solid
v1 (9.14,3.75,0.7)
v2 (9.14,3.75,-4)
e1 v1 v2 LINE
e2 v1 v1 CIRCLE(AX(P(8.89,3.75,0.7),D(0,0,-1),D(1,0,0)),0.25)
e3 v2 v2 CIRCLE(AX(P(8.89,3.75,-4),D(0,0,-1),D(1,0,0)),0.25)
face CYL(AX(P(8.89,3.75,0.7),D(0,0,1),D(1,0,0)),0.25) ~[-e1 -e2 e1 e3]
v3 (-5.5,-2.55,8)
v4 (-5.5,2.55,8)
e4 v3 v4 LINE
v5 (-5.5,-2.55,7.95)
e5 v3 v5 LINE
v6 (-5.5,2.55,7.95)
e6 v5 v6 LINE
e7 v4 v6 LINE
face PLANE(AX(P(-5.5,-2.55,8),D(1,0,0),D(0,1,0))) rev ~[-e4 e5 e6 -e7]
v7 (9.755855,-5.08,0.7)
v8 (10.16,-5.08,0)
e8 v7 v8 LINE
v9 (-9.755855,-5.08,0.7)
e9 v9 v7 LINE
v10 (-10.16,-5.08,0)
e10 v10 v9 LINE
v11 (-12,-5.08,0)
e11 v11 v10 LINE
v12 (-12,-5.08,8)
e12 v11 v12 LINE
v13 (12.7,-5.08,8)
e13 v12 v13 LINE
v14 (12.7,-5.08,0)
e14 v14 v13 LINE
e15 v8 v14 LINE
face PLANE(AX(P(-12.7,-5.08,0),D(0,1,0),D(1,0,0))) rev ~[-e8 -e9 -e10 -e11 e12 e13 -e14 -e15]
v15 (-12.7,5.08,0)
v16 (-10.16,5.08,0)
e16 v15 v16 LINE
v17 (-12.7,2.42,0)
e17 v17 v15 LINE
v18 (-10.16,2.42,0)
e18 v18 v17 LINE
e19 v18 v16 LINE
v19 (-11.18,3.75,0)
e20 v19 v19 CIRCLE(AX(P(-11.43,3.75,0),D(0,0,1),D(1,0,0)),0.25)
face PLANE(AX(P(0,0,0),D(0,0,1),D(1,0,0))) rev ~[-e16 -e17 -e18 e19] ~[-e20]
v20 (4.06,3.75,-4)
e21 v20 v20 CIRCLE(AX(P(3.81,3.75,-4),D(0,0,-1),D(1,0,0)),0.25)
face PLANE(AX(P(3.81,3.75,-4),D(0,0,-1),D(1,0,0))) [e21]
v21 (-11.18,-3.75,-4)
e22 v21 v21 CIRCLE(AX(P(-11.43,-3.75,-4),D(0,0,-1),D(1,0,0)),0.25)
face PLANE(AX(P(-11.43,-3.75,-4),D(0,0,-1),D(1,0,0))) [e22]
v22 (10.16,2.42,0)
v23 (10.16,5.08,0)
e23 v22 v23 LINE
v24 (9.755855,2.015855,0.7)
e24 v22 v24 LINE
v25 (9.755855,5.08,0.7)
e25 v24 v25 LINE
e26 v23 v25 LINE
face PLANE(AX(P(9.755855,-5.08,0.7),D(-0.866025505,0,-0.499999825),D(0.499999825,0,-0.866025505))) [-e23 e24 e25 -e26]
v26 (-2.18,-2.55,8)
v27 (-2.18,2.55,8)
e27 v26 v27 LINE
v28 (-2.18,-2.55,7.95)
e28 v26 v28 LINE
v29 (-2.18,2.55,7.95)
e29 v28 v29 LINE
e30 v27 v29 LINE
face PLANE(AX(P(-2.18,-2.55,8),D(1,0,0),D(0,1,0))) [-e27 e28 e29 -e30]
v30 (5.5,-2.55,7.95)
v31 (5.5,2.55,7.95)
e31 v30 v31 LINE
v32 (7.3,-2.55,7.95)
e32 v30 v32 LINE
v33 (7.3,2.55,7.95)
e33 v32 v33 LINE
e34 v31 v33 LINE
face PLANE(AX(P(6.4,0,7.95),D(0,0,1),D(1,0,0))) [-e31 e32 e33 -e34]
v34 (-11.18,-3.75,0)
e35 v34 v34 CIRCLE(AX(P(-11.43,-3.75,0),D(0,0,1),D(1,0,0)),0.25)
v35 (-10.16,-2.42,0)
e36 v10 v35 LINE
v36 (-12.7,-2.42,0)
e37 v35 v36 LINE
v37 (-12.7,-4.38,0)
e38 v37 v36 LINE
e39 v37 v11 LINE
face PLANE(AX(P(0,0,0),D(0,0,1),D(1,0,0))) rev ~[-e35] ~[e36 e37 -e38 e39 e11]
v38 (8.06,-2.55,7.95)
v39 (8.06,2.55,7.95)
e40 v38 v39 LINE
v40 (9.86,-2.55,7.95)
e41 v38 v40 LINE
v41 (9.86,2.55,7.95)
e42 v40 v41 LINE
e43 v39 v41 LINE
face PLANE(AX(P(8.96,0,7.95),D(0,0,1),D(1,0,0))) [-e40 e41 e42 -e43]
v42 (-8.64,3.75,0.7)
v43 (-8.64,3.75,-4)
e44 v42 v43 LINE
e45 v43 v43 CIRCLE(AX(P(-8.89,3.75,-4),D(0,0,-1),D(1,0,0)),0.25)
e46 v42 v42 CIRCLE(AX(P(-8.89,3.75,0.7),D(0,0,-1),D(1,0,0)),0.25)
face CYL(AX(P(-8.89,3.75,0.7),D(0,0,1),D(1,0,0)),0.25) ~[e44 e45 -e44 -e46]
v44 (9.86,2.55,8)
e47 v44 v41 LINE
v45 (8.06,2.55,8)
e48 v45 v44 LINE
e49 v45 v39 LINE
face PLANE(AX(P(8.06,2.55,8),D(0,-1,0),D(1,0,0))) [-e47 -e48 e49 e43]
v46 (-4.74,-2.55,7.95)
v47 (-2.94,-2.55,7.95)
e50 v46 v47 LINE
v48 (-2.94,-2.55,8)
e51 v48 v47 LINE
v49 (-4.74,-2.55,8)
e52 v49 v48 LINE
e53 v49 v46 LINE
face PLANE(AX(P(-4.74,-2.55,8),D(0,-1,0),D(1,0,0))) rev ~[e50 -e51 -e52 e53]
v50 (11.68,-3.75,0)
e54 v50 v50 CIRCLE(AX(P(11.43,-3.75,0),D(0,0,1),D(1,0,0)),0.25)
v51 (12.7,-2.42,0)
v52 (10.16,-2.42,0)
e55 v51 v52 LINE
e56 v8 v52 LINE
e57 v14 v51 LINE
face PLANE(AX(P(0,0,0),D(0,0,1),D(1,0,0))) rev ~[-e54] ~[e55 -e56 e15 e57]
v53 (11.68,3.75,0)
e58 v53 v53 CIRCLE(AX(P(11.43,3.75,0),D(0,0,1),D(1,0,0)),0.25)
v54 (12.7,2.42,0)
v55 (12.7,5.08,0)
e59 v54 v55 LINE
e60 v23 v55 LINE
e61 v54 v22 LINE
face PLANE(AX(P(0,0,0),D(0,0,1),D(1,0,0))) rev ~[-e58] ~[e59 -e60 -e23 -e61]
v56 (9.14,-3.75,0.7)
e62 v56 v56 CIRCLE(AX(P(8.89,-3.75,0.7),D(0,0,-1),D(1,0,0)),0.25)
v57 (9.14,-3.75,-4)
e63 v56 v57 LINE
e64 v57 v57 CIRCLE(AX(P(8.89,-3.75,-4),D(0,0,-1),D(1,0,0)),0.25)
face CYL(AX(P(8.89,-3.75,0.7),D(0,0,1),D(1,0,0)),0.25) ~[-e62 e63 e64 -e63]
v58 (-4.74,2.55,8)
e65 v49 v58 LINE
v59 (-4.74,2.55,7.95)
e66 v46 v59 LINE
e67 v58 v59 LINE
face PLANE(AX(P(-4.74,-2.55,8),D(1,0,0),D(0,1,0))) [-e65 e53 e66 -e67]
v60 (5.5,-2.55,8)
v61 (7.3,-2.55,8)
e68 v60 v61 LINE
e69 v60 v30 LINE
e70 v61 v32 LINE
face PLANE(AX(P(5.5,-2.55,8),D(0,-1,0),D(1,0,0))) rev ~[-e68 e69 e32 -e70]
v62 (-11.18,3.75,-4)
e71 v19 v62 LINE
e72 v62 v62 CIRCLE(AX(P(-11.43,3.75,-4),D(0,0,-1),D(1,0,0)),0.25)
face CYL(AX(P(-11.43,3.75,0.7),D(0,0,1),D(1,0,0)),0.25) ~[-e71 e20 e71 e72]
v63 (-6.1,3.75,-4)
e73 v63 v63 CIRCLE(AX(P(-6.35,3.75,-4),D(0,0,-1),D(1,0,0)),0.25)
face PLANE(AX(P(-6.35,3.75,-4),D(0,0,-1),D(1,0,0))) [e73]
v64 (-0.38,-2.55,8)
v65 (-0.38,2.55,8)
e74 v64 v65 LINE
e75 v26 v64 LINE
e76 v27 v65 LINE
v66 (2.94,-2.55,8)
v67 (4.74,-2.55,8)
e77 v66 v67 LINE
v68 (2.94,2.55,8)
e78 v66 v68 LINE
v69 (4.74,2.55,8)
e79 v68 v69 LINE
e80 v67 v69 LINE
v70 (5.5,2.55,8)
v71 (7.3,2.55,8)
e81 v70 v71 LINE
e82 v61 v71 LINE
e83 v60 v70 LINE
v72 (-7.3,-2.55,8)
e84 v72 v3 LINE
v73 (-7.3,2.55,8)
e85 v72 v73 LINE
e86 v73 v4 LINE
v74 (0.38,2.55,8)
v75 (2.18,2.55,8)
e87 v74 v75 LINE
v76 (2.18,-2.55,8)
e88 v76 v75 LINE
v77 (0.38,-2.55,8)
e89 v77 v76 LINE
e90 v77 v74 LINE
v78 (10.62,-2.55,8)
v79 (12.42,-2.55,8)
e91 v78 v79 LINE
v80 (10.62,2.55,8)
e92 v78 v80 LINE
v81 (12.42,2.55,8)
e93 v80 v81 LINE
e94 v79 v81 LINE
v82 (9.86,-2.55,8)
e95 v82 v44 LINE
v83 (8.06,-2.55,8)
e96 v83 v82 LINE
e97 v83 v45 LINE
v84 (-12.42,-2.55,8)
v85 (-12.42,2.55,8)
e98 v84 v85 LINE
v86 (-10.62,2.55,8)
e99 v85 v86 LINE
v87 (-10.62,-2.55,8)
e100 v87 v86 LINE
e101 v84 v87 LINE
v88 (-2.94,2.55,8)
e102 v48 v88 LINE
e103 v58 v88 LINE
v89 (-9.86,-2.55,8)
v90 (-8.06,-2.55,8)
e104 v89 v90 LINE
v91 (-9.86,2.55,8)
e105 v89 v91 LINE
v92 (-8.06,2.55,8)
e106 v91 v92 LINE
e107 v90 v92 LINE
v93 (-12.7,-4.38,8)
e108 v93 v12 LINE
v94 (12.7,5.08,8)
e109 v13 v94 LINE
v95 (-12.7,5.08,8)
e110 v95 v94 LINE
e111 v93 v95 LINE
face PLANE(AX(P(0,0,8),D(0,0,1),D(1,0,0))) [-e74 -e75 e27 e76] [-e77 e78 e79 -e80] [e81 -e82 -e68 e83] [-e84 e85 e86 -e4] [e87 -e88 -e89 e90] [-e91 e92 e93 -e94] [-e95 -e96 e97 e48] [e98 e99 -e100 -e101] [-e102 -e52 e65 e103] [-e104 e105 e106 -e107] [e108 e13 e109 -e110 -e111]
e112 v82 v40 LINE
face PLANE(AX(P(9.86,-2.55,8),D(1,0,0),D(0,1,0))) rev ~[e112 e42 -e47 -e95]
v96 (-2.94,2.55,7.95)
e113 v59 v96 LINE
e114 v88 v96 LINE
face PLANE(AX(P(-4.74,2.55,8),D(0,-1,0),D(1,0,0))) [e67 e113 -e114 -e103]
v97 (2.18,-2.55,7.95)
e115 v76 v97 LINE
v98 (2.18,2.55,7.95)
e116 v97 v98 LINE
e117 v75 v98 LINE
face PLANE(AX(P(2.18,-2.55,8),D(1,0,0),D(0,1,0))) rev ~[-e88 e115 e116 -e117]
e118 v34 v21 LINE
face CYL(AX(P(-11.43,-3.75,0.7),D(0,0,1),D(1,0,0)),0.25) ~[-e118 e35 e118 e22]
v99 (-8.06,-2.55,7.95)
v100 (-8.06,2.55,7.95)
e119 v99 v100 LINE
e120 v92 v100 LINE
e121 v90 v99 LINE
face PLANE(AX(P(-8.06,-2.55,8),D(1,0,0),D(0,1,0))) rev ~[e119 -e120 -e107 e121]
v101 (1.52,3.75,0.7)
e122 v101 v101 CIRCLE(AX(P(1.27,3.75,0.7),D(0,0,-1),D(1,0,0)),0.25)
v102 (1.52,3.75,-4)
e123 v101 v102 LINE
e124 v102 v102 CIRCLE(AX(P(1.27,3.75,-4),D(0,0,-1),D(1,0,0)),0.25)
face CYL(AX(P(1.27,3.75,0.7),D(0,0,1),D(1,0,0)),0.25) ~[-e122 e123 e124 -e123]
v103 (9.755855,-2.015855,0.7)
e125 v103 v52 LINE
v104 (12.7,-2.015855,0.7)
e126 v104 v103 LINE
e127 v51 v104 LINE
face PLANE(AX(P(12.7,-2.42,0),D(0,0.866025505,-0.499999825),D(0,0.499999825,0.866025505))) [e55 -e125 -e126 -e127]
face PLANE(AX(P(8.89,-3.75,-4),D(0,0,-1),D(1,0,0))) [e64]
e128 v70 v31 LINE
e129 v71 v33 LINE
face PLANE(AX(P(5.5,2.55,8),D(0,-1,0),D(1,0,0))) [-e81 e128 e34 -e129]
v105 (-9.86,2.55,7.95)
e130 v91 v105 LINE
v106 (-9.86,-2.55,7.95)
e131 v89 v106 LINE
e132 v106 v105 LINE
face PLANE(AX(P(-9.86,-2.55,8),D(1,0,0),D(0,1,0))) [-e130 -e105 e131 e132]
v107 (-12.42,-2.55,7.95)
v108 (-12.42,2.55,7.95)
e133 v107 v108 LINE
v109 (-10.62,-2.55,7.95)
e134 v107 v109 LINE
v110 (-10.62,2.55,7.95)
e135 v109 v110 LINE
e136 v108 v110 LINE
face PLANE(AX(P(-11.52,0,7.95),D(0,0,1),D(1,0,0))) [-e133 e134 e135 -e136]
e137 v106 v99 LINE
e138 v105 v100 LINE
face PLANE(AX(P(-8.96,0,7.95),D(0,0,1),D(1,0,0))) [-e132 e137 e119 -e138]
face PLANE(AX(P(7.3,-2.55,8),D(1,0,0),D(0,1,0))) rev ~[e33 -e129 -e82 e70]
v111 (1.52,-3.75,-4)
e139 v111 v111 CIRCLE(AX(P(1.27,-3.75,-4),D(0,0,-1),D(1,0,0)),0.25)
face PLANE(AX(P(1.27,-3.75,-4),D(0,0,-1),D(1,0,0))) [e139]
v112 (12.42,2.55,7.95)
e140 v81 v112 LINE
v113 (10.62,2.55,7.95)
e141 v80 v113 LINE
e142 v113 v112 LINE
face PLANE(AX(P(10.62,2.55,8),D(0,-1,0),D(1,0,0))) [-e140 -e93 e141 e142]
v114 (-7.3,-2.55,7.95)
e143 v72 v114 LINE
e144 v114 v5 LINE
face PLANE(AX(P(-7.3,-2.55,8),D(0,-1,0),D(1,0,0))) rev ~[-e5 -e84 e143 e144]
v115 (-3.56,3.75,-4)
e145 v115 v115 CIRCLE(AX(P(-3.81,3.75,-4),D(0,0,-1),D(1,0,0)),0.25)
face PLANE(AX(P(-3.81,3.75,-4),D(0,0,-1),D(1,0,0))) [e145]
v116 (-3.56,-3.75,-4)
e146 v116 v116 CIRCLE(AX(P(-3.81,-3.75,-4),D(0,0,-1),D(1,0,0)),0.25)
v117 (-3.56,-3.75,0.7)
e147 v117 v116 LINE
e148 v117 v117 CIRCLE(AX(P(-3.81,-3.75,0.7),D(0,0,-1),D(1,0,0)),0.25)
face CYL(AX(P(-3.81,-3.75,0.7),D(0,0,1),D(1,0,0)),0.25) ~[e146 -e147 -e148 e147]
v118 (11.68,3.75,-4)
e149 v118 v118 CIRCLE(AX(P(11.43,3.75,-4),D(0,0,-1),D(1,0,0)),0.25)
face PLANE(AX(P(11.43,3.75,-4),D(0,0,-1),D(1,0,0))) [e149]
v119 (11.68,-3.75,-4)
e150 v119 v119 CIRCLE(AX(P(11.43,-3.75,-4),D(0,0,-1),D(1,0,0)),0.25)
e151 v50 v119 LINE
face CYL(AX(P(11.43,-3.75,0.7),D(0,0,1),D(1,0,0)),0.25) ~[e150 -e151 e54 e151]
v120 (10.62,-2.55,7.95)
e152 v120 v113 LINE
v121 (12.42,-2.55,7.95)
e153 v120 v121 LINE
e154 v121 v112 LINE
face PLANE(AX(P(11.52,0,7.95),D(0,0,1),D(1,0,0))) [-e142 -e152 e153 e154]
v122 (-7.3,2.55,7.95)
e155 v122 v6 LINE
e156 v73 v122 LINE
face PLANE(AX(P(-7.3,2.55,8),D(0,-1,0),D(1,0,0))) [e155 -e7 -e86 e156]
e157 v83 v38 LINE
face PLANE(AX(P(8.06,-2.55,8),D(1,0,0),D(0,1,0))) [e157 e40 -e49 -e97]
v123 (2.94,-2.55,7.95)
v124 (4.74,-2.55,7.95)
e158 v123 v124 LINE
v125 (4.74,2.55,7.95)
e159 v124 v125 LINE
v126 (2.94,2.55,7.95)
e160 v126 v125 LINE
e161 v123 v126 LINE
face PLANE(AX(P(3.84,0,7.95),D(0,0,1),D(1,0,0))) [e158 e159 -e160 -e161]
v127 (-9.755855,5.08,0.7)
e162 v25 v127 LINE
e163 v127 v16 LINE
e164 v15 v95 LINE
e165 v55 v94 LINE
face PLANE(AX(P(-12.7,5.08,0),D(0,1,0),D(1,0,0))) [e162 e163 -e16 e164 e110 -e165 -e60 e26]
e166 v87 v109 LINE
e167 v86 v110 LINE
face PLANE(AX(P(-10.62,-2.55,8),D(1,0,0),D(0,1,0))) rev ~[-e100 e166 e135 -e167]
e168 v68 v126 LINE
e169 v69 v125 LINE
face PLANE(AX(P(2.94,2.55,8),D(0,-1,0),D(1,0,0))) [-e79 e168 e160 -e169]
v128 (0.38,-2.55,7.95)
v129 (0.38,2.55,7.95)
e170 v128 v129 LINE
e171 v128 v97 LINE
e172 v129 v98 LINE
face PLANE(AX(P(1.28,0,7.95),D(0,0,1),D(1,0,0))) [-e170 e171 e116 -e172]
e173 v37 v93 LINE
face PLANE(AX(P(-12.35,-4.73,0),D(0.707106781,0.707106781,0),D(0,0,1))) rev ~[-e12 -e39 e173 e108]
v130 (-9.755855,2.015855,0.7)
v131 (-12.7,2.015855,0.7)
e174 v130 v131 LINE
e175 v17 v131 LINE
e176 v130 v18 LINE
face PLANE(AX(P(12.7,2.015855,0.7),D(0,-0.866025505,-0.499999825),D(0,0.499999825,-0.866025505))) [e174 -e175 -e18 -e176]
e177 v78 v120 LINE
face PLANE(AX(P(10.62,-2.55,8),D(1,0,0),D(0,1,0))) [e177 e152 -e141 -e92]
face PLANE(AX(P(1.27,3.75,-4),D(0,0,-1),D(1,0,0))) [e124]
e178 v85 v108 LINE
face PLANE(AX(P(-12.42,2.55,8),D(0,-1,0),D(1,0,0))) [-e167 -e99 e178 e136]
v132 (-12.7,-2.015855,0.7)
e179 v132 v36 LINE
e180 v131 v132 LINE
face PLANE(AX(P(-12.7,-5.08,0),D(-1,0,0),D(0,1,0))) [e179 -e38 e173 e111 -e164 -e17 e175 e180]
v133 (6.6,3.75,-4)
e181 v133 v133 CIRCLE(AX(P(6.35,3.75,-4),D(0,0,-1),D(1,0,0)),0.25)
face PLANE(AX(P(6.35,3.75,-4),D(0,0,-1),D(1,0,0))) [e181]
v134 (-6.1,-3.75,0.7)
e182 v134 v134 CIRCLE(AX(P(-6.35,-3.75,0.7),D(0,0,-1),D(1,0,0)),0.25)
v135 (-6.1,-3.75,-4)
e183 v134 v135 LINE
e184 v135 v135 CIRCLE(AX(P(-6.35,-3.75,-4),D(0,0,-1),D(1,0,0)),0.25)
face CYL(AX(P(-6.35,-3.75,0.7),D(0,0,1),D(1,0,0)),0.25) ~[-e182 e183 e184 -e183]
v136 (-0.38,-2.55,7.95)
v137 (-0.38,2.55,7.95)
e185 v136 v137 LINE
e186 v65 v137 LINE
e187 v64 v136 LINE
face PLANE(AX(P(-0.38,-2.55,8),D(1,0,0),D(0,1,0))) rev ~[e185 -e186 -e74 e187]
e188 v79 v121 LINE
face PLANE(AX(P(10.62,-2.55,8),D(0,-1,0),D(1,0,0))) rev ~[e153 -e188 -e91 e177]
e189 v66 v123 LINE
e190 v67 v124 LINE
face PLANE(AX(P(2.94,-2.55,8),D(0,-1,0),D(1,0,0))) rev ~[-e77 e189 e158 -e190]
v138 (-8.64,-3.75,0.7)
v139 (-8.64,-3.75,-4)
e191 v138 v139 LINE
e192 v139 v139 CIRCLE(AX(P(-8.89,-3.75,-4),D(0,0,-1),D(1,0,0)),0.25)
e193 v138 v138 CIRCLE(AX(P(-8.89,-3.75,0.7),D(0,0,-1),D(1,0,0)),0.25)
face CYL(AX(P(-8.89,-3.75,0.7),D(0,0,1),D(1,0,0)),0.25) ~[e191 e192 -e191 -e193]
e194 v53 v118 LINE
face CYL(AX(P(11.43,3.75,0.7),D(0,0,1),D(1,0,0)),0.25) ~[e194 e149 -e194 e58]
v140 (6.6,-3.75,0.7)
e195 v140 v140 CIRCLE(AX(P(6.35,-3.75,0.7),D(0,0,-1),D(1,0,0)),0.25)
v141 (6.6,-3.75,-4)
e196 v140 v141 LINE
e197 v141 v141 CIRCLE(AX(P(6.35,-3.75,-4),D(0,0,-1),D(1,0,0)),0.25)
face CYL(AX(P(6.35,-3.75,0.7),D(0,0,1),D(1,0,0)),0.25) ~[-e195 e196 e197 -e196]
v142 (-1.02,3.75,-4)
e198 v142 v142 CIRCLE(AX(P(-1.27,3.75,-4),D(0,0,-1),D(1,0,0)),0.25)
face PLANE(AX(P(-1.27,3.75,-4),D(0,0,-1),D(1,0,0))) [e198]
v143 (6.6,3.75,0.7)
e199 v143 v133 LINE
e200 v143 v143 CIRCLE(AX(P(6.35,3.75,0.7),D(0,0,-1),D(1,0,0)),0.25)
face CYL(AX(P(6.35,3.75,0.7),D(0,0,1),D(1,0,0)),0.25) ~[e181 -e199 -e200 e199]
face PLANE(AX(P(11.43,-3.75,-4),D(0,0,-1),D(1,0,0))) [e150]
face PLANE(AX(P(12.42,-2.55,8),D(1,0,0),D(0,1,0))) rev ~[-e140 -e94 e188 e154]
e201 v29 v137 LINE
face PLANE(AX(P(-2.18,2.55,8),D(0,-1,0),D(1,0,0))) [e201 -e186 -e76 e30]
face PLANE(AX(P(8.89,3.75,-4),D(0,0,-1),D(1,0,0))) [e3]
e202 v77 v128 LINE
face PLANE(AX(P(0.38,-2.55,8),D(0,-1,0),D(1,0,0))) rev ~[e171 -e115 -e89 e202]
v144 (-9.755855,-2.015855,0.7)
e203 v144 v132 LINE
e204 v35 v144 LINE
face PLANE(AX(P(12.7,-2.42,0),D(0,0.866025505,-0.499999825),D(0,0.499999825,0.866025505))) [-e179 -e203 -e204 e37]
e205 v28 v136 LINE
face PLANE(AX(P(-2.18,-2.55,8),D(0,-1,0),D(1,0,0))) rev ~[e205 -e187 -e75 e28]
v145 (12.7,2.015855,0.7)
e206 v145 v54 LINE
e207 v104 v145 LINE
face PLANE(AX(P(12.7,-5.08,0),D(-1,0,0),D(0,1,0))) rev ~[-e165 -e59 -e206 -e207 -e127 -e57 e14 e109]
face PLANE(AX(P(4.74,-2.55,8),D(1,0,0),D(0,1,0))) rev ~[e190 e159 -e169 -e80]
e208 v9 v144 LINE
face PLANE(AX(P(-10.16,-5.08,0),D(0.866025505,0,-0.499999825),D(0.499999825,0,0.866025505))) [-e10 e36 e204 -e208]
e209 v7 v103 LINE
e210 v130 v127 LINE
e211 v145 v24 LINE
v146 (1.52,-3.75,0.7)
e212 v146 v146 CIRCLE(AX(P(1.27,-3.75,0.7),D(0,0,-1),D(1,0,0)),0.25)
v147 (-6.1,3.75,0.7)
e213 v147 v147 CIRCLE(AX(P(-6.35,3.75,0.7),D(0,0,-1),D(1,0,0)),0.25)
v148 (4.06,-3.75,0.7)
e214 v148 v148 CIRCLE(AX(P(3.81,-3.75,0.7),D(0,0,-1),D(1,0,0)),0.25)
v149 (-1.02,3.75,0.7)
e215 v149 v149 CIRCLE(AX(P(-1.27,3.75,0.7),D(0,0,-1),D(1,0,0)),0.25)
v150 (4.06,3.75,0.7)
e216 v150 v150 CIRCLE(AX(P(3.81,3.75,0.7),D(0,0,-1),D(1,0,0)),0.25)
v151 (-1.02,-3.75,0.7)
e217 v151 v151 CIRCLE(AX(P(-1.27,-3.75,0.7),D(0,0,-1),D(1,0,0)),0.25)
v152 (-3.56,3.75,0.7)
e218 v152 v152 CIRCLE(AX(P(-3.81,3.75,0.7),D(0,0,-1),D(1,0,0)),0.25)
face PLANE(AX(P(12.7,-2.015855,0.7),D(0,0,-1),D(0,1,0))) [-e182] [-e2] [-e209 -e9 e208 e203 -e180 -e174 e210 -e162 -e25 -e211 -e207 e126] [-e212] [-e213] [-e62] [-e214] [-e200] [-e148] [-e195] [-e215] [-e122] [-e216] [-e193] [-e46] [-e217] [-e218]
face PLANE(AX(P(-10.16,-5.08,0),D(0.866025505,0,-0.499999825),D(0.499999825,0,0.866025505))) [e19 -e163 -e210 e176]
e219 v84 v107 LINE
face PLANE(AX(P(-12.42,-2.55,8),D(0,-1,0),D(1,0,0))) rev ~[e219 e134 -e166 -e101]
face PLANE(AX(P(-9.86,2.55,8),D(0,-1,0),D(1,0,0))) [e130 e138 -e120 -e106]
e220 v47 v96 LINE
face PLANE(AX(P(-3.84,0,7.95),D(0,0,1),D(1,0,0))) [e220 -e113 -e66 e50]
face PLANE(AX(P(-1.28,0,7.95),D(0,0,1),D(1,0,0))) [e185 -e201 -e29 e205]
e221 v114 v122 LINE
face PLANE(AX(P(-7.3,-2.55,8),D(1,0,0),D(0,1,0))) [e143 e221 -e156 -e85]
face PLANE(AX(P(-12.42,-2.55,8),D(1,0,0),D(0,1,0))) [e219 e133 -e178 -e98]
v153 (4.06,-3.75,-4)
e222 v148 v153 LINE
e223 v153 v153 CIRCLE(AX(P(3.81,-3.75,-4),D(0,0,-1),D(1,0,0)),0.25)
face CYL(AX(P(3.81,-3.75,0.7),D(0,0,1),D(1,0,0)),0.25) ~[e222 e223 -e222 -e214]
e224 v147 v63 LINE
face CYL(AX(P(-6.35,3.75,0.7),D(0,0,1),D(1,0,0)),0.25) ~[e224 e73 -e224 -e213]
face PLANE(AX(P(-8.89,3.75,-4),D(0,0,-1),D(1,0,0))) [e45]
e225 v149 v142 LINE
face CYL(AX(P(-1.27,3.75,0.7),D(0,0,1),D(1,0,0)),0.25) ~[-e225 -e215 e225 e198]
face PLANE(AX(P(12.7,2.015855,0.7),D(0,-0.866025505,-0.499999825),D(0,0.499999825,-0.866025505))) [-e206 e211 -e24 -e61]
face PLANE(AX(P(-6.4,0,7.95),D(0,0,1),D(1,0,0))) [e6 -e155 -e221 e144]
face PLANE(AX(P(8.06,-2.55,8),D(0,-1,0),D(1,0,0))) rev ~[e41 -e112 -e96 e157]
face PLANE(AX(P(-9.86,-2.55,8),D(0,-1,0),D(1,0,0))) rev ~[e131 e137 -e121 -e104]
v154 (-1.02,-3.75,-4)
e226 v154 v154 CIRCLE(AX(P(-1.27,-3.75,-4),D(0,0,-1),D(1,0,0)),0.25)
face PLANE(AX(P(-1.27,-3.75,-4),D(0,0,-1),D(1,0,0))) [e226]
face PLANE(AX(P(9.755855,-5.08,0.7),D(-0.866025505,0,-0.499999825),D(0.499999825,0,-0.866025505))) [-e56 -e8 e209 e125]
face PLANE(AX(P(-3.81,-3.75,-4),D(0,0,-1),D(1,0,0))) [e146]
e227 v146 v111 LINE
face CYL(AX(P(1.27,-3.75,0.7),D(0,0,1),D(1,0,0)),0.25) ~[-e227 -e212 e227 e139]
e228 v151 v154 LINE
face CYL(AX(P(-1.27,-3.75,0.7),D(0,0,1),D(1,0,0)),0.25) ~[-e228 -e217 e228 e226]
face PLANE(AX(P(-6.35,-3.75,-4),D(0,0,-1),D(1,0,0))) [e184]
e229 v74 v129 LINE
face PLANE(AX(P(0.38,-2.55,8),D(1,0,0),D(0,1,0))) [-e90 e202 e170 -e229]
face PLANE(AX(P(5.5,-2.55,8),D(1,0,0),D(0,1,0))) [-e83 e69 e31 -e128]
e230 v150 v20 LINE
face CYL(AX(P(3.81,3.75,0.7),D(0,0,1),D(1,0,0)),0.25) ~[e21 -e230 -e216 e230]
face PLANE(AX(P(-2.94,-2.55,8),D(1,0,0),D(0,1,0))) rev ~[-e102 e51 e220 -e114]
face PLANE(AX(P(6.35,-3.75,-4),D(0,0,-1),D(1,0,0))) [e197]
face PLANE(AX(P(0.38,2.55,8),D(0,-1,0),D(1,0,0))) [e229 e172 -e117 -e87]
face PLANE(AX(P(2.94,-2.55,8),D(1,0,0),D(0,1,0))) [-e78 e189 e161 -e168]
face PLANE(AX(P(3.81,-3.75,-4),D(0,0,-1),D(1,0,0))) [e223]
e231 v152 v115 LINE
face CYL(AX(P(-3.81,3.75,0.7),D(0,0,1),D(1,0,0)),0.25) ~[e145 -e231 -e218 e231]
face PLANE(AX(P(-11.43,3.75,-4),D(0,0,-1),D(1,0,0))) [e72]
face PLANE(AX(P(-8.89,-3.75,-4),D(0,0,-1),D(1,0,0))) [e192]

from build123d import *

# Parameters (mm, degrees)
SKETCH_W        = 25.4
SKETCH_H        = 10.16
PAD_DEPTH       = 8
SKETCH001_W     = 1.8
SKETCH001_H     = 5.1
POCKET_DEPTH    = 0.05
CHAMFER_SIZE    = 0.7
POCKET001_DEPTH = 10.161
POCKET002_DEPTH = 25.401
SKETCH004_R     = 0.25
PAD001_DEPTH    = 4.7


with BuildPart() as part:
    # Sketch → Pad (new body)
    with BuildSketch(Plane.XY):
        Rectangle(SKETCH_W, SKETCH_H)
    extrude(amount=PAD_DEPTH)

    # Sketch001 (on Face6 of Pad) → Pocket (cut)
    with BuildSketch(Plane.XY.offset(8)):
        with Locations((-11.52, 0)):
            Rectangle(SKETCH001_W, SKETCH001_H)
        with Locations((-6.4, 0)):
            Rectangle(SKETCH001_W, SKETCH001_H)
        with Locations((-3.84, 0)):
            Rectangle(SKETCH001_W, SKETCH001_H)
        with Locations((-1.28, 0)):
            Rectangle(SKETCH001_W, SKETCH001_H)
        with Locations((1.28, 0)):
            Rectangle(SKETCH001_W, SKETCH001_H)
        with Locations((3.84, 0)):
            Rectangle(SKETCH001_W, SKETCH001_H)
        with Locations((6.4, 0)):
            Rectangle(SKETCH001_W, SKETCH001_H)
        with Locations((8.96, 0)):
            Rectangle(SKETCH001_W, SKETCH001_H)
        with Locations((11.52, 0)):
            Rectangle(SKETCH001_W, SKETCH001_H)
        with Locations((-8.96, 0)):
            Rectangle(SKETCH001_W, SKETCH001_H)
    extrude(amount=-POCKET_DEPTH, mode=Mode.SUBTRACT)

    # Chamfer
    chamfer_edges = [part.edges().sort_by_distance(p)[0] for p in [
        (-12.7, -5.08, 4),
    ]]
    chamfer(chamfer_edges, length=CHAMFER_SIZE)

    # Sketch002 (on Face6 of Chamfer) → Pocket001 (cut, through all)
    with BuildSketch(Plane.XZ.offset(5.08)):
        Polygon((-10.16, 0), (-9.755855, 0.7), (9.755855, 0.7), (10.16, 0), align=None)
    extrude(amount=-POCKET001_DEPTH, mode=Mode.SUBTRACT)

    # Sketch003 (on Face11 of Pocket001) → Pocket002 (cut, through all)
    with BuildSketch(Plane.YZ.offset(12.7)):
        Polygon((-2.42, 0), (-2.015855, 0.7), (2.015855, 0.7), (2.42, 0), align=None)
    extrude(amount=-POCKET002_DEPTH, mode=Mode.SUBTRACT)

    # Sketch004 (on Face58 of Pocket002) → Pad001 (join)
    with BuildSketch(Plane(origin=(0, 0, 0.7), x_dir=(1, 0, 0), z_dir=(0, 0, -1))):
        with Locations((-11.43, 3.75)):
            Circle(SKETCH004_R)
        with Locations((-8.89, 3.75)):
            Circle(SKETCH004_R)
        with Locations((-6.35, 3.75)):
            Circle(SKETCH004_R)
        with Locations((-3.81, 3.75)):
            Circle(SKETCH004_R)
        with Locations((-1.27, 3.75)):
            Circle(SKETCH004_R)
        with Locations((1.27, 3.75)):
            Circle(SKETCH004_R)
        with Locations((3.81, 3.75)):
            Circle(SKETCH004_R)
        with Locations((6.35, 3.75)):
            Circle(SKETCH004_R)
        with Locations((8.89, 3.75)):
            Circle(SKETCH004_R)
        with Locations((11.43, 3.75)):
            Circle(SKETCH004_R)
        with Locations((-11.43, -3.75)):
            Circle(SKETCH004_R)
        with Locations((-8.89, -3.75)):
            Circle(SKETCH004_R)
        with Locations((-6.35, -3.75)):
            Circle(SKETCH004_R)
        with Locations((-3.81, -3.75)):
            Circle(SKETCH004_R)
        with Locations((-1.27, -3.75)):
            Circle(SKETCH004_R)
        with Locations((1.27, -3.75)):
            Circle(SKETCH004_R)
        with Locations((3.81, -3.75)):
            Circle(SKETCH004_R)
        with Locations((6.35, -3.75)):
            Circle(SKETCH004_R)
        with Locations((8.89, -3.75)):
            Circle(SKETCH004_R)
        with Locations((11.43, -3.75)):
            Circle(SKETCH004_R)
    extrude(amount=PAD001_DEPTH)


solid = part.part
